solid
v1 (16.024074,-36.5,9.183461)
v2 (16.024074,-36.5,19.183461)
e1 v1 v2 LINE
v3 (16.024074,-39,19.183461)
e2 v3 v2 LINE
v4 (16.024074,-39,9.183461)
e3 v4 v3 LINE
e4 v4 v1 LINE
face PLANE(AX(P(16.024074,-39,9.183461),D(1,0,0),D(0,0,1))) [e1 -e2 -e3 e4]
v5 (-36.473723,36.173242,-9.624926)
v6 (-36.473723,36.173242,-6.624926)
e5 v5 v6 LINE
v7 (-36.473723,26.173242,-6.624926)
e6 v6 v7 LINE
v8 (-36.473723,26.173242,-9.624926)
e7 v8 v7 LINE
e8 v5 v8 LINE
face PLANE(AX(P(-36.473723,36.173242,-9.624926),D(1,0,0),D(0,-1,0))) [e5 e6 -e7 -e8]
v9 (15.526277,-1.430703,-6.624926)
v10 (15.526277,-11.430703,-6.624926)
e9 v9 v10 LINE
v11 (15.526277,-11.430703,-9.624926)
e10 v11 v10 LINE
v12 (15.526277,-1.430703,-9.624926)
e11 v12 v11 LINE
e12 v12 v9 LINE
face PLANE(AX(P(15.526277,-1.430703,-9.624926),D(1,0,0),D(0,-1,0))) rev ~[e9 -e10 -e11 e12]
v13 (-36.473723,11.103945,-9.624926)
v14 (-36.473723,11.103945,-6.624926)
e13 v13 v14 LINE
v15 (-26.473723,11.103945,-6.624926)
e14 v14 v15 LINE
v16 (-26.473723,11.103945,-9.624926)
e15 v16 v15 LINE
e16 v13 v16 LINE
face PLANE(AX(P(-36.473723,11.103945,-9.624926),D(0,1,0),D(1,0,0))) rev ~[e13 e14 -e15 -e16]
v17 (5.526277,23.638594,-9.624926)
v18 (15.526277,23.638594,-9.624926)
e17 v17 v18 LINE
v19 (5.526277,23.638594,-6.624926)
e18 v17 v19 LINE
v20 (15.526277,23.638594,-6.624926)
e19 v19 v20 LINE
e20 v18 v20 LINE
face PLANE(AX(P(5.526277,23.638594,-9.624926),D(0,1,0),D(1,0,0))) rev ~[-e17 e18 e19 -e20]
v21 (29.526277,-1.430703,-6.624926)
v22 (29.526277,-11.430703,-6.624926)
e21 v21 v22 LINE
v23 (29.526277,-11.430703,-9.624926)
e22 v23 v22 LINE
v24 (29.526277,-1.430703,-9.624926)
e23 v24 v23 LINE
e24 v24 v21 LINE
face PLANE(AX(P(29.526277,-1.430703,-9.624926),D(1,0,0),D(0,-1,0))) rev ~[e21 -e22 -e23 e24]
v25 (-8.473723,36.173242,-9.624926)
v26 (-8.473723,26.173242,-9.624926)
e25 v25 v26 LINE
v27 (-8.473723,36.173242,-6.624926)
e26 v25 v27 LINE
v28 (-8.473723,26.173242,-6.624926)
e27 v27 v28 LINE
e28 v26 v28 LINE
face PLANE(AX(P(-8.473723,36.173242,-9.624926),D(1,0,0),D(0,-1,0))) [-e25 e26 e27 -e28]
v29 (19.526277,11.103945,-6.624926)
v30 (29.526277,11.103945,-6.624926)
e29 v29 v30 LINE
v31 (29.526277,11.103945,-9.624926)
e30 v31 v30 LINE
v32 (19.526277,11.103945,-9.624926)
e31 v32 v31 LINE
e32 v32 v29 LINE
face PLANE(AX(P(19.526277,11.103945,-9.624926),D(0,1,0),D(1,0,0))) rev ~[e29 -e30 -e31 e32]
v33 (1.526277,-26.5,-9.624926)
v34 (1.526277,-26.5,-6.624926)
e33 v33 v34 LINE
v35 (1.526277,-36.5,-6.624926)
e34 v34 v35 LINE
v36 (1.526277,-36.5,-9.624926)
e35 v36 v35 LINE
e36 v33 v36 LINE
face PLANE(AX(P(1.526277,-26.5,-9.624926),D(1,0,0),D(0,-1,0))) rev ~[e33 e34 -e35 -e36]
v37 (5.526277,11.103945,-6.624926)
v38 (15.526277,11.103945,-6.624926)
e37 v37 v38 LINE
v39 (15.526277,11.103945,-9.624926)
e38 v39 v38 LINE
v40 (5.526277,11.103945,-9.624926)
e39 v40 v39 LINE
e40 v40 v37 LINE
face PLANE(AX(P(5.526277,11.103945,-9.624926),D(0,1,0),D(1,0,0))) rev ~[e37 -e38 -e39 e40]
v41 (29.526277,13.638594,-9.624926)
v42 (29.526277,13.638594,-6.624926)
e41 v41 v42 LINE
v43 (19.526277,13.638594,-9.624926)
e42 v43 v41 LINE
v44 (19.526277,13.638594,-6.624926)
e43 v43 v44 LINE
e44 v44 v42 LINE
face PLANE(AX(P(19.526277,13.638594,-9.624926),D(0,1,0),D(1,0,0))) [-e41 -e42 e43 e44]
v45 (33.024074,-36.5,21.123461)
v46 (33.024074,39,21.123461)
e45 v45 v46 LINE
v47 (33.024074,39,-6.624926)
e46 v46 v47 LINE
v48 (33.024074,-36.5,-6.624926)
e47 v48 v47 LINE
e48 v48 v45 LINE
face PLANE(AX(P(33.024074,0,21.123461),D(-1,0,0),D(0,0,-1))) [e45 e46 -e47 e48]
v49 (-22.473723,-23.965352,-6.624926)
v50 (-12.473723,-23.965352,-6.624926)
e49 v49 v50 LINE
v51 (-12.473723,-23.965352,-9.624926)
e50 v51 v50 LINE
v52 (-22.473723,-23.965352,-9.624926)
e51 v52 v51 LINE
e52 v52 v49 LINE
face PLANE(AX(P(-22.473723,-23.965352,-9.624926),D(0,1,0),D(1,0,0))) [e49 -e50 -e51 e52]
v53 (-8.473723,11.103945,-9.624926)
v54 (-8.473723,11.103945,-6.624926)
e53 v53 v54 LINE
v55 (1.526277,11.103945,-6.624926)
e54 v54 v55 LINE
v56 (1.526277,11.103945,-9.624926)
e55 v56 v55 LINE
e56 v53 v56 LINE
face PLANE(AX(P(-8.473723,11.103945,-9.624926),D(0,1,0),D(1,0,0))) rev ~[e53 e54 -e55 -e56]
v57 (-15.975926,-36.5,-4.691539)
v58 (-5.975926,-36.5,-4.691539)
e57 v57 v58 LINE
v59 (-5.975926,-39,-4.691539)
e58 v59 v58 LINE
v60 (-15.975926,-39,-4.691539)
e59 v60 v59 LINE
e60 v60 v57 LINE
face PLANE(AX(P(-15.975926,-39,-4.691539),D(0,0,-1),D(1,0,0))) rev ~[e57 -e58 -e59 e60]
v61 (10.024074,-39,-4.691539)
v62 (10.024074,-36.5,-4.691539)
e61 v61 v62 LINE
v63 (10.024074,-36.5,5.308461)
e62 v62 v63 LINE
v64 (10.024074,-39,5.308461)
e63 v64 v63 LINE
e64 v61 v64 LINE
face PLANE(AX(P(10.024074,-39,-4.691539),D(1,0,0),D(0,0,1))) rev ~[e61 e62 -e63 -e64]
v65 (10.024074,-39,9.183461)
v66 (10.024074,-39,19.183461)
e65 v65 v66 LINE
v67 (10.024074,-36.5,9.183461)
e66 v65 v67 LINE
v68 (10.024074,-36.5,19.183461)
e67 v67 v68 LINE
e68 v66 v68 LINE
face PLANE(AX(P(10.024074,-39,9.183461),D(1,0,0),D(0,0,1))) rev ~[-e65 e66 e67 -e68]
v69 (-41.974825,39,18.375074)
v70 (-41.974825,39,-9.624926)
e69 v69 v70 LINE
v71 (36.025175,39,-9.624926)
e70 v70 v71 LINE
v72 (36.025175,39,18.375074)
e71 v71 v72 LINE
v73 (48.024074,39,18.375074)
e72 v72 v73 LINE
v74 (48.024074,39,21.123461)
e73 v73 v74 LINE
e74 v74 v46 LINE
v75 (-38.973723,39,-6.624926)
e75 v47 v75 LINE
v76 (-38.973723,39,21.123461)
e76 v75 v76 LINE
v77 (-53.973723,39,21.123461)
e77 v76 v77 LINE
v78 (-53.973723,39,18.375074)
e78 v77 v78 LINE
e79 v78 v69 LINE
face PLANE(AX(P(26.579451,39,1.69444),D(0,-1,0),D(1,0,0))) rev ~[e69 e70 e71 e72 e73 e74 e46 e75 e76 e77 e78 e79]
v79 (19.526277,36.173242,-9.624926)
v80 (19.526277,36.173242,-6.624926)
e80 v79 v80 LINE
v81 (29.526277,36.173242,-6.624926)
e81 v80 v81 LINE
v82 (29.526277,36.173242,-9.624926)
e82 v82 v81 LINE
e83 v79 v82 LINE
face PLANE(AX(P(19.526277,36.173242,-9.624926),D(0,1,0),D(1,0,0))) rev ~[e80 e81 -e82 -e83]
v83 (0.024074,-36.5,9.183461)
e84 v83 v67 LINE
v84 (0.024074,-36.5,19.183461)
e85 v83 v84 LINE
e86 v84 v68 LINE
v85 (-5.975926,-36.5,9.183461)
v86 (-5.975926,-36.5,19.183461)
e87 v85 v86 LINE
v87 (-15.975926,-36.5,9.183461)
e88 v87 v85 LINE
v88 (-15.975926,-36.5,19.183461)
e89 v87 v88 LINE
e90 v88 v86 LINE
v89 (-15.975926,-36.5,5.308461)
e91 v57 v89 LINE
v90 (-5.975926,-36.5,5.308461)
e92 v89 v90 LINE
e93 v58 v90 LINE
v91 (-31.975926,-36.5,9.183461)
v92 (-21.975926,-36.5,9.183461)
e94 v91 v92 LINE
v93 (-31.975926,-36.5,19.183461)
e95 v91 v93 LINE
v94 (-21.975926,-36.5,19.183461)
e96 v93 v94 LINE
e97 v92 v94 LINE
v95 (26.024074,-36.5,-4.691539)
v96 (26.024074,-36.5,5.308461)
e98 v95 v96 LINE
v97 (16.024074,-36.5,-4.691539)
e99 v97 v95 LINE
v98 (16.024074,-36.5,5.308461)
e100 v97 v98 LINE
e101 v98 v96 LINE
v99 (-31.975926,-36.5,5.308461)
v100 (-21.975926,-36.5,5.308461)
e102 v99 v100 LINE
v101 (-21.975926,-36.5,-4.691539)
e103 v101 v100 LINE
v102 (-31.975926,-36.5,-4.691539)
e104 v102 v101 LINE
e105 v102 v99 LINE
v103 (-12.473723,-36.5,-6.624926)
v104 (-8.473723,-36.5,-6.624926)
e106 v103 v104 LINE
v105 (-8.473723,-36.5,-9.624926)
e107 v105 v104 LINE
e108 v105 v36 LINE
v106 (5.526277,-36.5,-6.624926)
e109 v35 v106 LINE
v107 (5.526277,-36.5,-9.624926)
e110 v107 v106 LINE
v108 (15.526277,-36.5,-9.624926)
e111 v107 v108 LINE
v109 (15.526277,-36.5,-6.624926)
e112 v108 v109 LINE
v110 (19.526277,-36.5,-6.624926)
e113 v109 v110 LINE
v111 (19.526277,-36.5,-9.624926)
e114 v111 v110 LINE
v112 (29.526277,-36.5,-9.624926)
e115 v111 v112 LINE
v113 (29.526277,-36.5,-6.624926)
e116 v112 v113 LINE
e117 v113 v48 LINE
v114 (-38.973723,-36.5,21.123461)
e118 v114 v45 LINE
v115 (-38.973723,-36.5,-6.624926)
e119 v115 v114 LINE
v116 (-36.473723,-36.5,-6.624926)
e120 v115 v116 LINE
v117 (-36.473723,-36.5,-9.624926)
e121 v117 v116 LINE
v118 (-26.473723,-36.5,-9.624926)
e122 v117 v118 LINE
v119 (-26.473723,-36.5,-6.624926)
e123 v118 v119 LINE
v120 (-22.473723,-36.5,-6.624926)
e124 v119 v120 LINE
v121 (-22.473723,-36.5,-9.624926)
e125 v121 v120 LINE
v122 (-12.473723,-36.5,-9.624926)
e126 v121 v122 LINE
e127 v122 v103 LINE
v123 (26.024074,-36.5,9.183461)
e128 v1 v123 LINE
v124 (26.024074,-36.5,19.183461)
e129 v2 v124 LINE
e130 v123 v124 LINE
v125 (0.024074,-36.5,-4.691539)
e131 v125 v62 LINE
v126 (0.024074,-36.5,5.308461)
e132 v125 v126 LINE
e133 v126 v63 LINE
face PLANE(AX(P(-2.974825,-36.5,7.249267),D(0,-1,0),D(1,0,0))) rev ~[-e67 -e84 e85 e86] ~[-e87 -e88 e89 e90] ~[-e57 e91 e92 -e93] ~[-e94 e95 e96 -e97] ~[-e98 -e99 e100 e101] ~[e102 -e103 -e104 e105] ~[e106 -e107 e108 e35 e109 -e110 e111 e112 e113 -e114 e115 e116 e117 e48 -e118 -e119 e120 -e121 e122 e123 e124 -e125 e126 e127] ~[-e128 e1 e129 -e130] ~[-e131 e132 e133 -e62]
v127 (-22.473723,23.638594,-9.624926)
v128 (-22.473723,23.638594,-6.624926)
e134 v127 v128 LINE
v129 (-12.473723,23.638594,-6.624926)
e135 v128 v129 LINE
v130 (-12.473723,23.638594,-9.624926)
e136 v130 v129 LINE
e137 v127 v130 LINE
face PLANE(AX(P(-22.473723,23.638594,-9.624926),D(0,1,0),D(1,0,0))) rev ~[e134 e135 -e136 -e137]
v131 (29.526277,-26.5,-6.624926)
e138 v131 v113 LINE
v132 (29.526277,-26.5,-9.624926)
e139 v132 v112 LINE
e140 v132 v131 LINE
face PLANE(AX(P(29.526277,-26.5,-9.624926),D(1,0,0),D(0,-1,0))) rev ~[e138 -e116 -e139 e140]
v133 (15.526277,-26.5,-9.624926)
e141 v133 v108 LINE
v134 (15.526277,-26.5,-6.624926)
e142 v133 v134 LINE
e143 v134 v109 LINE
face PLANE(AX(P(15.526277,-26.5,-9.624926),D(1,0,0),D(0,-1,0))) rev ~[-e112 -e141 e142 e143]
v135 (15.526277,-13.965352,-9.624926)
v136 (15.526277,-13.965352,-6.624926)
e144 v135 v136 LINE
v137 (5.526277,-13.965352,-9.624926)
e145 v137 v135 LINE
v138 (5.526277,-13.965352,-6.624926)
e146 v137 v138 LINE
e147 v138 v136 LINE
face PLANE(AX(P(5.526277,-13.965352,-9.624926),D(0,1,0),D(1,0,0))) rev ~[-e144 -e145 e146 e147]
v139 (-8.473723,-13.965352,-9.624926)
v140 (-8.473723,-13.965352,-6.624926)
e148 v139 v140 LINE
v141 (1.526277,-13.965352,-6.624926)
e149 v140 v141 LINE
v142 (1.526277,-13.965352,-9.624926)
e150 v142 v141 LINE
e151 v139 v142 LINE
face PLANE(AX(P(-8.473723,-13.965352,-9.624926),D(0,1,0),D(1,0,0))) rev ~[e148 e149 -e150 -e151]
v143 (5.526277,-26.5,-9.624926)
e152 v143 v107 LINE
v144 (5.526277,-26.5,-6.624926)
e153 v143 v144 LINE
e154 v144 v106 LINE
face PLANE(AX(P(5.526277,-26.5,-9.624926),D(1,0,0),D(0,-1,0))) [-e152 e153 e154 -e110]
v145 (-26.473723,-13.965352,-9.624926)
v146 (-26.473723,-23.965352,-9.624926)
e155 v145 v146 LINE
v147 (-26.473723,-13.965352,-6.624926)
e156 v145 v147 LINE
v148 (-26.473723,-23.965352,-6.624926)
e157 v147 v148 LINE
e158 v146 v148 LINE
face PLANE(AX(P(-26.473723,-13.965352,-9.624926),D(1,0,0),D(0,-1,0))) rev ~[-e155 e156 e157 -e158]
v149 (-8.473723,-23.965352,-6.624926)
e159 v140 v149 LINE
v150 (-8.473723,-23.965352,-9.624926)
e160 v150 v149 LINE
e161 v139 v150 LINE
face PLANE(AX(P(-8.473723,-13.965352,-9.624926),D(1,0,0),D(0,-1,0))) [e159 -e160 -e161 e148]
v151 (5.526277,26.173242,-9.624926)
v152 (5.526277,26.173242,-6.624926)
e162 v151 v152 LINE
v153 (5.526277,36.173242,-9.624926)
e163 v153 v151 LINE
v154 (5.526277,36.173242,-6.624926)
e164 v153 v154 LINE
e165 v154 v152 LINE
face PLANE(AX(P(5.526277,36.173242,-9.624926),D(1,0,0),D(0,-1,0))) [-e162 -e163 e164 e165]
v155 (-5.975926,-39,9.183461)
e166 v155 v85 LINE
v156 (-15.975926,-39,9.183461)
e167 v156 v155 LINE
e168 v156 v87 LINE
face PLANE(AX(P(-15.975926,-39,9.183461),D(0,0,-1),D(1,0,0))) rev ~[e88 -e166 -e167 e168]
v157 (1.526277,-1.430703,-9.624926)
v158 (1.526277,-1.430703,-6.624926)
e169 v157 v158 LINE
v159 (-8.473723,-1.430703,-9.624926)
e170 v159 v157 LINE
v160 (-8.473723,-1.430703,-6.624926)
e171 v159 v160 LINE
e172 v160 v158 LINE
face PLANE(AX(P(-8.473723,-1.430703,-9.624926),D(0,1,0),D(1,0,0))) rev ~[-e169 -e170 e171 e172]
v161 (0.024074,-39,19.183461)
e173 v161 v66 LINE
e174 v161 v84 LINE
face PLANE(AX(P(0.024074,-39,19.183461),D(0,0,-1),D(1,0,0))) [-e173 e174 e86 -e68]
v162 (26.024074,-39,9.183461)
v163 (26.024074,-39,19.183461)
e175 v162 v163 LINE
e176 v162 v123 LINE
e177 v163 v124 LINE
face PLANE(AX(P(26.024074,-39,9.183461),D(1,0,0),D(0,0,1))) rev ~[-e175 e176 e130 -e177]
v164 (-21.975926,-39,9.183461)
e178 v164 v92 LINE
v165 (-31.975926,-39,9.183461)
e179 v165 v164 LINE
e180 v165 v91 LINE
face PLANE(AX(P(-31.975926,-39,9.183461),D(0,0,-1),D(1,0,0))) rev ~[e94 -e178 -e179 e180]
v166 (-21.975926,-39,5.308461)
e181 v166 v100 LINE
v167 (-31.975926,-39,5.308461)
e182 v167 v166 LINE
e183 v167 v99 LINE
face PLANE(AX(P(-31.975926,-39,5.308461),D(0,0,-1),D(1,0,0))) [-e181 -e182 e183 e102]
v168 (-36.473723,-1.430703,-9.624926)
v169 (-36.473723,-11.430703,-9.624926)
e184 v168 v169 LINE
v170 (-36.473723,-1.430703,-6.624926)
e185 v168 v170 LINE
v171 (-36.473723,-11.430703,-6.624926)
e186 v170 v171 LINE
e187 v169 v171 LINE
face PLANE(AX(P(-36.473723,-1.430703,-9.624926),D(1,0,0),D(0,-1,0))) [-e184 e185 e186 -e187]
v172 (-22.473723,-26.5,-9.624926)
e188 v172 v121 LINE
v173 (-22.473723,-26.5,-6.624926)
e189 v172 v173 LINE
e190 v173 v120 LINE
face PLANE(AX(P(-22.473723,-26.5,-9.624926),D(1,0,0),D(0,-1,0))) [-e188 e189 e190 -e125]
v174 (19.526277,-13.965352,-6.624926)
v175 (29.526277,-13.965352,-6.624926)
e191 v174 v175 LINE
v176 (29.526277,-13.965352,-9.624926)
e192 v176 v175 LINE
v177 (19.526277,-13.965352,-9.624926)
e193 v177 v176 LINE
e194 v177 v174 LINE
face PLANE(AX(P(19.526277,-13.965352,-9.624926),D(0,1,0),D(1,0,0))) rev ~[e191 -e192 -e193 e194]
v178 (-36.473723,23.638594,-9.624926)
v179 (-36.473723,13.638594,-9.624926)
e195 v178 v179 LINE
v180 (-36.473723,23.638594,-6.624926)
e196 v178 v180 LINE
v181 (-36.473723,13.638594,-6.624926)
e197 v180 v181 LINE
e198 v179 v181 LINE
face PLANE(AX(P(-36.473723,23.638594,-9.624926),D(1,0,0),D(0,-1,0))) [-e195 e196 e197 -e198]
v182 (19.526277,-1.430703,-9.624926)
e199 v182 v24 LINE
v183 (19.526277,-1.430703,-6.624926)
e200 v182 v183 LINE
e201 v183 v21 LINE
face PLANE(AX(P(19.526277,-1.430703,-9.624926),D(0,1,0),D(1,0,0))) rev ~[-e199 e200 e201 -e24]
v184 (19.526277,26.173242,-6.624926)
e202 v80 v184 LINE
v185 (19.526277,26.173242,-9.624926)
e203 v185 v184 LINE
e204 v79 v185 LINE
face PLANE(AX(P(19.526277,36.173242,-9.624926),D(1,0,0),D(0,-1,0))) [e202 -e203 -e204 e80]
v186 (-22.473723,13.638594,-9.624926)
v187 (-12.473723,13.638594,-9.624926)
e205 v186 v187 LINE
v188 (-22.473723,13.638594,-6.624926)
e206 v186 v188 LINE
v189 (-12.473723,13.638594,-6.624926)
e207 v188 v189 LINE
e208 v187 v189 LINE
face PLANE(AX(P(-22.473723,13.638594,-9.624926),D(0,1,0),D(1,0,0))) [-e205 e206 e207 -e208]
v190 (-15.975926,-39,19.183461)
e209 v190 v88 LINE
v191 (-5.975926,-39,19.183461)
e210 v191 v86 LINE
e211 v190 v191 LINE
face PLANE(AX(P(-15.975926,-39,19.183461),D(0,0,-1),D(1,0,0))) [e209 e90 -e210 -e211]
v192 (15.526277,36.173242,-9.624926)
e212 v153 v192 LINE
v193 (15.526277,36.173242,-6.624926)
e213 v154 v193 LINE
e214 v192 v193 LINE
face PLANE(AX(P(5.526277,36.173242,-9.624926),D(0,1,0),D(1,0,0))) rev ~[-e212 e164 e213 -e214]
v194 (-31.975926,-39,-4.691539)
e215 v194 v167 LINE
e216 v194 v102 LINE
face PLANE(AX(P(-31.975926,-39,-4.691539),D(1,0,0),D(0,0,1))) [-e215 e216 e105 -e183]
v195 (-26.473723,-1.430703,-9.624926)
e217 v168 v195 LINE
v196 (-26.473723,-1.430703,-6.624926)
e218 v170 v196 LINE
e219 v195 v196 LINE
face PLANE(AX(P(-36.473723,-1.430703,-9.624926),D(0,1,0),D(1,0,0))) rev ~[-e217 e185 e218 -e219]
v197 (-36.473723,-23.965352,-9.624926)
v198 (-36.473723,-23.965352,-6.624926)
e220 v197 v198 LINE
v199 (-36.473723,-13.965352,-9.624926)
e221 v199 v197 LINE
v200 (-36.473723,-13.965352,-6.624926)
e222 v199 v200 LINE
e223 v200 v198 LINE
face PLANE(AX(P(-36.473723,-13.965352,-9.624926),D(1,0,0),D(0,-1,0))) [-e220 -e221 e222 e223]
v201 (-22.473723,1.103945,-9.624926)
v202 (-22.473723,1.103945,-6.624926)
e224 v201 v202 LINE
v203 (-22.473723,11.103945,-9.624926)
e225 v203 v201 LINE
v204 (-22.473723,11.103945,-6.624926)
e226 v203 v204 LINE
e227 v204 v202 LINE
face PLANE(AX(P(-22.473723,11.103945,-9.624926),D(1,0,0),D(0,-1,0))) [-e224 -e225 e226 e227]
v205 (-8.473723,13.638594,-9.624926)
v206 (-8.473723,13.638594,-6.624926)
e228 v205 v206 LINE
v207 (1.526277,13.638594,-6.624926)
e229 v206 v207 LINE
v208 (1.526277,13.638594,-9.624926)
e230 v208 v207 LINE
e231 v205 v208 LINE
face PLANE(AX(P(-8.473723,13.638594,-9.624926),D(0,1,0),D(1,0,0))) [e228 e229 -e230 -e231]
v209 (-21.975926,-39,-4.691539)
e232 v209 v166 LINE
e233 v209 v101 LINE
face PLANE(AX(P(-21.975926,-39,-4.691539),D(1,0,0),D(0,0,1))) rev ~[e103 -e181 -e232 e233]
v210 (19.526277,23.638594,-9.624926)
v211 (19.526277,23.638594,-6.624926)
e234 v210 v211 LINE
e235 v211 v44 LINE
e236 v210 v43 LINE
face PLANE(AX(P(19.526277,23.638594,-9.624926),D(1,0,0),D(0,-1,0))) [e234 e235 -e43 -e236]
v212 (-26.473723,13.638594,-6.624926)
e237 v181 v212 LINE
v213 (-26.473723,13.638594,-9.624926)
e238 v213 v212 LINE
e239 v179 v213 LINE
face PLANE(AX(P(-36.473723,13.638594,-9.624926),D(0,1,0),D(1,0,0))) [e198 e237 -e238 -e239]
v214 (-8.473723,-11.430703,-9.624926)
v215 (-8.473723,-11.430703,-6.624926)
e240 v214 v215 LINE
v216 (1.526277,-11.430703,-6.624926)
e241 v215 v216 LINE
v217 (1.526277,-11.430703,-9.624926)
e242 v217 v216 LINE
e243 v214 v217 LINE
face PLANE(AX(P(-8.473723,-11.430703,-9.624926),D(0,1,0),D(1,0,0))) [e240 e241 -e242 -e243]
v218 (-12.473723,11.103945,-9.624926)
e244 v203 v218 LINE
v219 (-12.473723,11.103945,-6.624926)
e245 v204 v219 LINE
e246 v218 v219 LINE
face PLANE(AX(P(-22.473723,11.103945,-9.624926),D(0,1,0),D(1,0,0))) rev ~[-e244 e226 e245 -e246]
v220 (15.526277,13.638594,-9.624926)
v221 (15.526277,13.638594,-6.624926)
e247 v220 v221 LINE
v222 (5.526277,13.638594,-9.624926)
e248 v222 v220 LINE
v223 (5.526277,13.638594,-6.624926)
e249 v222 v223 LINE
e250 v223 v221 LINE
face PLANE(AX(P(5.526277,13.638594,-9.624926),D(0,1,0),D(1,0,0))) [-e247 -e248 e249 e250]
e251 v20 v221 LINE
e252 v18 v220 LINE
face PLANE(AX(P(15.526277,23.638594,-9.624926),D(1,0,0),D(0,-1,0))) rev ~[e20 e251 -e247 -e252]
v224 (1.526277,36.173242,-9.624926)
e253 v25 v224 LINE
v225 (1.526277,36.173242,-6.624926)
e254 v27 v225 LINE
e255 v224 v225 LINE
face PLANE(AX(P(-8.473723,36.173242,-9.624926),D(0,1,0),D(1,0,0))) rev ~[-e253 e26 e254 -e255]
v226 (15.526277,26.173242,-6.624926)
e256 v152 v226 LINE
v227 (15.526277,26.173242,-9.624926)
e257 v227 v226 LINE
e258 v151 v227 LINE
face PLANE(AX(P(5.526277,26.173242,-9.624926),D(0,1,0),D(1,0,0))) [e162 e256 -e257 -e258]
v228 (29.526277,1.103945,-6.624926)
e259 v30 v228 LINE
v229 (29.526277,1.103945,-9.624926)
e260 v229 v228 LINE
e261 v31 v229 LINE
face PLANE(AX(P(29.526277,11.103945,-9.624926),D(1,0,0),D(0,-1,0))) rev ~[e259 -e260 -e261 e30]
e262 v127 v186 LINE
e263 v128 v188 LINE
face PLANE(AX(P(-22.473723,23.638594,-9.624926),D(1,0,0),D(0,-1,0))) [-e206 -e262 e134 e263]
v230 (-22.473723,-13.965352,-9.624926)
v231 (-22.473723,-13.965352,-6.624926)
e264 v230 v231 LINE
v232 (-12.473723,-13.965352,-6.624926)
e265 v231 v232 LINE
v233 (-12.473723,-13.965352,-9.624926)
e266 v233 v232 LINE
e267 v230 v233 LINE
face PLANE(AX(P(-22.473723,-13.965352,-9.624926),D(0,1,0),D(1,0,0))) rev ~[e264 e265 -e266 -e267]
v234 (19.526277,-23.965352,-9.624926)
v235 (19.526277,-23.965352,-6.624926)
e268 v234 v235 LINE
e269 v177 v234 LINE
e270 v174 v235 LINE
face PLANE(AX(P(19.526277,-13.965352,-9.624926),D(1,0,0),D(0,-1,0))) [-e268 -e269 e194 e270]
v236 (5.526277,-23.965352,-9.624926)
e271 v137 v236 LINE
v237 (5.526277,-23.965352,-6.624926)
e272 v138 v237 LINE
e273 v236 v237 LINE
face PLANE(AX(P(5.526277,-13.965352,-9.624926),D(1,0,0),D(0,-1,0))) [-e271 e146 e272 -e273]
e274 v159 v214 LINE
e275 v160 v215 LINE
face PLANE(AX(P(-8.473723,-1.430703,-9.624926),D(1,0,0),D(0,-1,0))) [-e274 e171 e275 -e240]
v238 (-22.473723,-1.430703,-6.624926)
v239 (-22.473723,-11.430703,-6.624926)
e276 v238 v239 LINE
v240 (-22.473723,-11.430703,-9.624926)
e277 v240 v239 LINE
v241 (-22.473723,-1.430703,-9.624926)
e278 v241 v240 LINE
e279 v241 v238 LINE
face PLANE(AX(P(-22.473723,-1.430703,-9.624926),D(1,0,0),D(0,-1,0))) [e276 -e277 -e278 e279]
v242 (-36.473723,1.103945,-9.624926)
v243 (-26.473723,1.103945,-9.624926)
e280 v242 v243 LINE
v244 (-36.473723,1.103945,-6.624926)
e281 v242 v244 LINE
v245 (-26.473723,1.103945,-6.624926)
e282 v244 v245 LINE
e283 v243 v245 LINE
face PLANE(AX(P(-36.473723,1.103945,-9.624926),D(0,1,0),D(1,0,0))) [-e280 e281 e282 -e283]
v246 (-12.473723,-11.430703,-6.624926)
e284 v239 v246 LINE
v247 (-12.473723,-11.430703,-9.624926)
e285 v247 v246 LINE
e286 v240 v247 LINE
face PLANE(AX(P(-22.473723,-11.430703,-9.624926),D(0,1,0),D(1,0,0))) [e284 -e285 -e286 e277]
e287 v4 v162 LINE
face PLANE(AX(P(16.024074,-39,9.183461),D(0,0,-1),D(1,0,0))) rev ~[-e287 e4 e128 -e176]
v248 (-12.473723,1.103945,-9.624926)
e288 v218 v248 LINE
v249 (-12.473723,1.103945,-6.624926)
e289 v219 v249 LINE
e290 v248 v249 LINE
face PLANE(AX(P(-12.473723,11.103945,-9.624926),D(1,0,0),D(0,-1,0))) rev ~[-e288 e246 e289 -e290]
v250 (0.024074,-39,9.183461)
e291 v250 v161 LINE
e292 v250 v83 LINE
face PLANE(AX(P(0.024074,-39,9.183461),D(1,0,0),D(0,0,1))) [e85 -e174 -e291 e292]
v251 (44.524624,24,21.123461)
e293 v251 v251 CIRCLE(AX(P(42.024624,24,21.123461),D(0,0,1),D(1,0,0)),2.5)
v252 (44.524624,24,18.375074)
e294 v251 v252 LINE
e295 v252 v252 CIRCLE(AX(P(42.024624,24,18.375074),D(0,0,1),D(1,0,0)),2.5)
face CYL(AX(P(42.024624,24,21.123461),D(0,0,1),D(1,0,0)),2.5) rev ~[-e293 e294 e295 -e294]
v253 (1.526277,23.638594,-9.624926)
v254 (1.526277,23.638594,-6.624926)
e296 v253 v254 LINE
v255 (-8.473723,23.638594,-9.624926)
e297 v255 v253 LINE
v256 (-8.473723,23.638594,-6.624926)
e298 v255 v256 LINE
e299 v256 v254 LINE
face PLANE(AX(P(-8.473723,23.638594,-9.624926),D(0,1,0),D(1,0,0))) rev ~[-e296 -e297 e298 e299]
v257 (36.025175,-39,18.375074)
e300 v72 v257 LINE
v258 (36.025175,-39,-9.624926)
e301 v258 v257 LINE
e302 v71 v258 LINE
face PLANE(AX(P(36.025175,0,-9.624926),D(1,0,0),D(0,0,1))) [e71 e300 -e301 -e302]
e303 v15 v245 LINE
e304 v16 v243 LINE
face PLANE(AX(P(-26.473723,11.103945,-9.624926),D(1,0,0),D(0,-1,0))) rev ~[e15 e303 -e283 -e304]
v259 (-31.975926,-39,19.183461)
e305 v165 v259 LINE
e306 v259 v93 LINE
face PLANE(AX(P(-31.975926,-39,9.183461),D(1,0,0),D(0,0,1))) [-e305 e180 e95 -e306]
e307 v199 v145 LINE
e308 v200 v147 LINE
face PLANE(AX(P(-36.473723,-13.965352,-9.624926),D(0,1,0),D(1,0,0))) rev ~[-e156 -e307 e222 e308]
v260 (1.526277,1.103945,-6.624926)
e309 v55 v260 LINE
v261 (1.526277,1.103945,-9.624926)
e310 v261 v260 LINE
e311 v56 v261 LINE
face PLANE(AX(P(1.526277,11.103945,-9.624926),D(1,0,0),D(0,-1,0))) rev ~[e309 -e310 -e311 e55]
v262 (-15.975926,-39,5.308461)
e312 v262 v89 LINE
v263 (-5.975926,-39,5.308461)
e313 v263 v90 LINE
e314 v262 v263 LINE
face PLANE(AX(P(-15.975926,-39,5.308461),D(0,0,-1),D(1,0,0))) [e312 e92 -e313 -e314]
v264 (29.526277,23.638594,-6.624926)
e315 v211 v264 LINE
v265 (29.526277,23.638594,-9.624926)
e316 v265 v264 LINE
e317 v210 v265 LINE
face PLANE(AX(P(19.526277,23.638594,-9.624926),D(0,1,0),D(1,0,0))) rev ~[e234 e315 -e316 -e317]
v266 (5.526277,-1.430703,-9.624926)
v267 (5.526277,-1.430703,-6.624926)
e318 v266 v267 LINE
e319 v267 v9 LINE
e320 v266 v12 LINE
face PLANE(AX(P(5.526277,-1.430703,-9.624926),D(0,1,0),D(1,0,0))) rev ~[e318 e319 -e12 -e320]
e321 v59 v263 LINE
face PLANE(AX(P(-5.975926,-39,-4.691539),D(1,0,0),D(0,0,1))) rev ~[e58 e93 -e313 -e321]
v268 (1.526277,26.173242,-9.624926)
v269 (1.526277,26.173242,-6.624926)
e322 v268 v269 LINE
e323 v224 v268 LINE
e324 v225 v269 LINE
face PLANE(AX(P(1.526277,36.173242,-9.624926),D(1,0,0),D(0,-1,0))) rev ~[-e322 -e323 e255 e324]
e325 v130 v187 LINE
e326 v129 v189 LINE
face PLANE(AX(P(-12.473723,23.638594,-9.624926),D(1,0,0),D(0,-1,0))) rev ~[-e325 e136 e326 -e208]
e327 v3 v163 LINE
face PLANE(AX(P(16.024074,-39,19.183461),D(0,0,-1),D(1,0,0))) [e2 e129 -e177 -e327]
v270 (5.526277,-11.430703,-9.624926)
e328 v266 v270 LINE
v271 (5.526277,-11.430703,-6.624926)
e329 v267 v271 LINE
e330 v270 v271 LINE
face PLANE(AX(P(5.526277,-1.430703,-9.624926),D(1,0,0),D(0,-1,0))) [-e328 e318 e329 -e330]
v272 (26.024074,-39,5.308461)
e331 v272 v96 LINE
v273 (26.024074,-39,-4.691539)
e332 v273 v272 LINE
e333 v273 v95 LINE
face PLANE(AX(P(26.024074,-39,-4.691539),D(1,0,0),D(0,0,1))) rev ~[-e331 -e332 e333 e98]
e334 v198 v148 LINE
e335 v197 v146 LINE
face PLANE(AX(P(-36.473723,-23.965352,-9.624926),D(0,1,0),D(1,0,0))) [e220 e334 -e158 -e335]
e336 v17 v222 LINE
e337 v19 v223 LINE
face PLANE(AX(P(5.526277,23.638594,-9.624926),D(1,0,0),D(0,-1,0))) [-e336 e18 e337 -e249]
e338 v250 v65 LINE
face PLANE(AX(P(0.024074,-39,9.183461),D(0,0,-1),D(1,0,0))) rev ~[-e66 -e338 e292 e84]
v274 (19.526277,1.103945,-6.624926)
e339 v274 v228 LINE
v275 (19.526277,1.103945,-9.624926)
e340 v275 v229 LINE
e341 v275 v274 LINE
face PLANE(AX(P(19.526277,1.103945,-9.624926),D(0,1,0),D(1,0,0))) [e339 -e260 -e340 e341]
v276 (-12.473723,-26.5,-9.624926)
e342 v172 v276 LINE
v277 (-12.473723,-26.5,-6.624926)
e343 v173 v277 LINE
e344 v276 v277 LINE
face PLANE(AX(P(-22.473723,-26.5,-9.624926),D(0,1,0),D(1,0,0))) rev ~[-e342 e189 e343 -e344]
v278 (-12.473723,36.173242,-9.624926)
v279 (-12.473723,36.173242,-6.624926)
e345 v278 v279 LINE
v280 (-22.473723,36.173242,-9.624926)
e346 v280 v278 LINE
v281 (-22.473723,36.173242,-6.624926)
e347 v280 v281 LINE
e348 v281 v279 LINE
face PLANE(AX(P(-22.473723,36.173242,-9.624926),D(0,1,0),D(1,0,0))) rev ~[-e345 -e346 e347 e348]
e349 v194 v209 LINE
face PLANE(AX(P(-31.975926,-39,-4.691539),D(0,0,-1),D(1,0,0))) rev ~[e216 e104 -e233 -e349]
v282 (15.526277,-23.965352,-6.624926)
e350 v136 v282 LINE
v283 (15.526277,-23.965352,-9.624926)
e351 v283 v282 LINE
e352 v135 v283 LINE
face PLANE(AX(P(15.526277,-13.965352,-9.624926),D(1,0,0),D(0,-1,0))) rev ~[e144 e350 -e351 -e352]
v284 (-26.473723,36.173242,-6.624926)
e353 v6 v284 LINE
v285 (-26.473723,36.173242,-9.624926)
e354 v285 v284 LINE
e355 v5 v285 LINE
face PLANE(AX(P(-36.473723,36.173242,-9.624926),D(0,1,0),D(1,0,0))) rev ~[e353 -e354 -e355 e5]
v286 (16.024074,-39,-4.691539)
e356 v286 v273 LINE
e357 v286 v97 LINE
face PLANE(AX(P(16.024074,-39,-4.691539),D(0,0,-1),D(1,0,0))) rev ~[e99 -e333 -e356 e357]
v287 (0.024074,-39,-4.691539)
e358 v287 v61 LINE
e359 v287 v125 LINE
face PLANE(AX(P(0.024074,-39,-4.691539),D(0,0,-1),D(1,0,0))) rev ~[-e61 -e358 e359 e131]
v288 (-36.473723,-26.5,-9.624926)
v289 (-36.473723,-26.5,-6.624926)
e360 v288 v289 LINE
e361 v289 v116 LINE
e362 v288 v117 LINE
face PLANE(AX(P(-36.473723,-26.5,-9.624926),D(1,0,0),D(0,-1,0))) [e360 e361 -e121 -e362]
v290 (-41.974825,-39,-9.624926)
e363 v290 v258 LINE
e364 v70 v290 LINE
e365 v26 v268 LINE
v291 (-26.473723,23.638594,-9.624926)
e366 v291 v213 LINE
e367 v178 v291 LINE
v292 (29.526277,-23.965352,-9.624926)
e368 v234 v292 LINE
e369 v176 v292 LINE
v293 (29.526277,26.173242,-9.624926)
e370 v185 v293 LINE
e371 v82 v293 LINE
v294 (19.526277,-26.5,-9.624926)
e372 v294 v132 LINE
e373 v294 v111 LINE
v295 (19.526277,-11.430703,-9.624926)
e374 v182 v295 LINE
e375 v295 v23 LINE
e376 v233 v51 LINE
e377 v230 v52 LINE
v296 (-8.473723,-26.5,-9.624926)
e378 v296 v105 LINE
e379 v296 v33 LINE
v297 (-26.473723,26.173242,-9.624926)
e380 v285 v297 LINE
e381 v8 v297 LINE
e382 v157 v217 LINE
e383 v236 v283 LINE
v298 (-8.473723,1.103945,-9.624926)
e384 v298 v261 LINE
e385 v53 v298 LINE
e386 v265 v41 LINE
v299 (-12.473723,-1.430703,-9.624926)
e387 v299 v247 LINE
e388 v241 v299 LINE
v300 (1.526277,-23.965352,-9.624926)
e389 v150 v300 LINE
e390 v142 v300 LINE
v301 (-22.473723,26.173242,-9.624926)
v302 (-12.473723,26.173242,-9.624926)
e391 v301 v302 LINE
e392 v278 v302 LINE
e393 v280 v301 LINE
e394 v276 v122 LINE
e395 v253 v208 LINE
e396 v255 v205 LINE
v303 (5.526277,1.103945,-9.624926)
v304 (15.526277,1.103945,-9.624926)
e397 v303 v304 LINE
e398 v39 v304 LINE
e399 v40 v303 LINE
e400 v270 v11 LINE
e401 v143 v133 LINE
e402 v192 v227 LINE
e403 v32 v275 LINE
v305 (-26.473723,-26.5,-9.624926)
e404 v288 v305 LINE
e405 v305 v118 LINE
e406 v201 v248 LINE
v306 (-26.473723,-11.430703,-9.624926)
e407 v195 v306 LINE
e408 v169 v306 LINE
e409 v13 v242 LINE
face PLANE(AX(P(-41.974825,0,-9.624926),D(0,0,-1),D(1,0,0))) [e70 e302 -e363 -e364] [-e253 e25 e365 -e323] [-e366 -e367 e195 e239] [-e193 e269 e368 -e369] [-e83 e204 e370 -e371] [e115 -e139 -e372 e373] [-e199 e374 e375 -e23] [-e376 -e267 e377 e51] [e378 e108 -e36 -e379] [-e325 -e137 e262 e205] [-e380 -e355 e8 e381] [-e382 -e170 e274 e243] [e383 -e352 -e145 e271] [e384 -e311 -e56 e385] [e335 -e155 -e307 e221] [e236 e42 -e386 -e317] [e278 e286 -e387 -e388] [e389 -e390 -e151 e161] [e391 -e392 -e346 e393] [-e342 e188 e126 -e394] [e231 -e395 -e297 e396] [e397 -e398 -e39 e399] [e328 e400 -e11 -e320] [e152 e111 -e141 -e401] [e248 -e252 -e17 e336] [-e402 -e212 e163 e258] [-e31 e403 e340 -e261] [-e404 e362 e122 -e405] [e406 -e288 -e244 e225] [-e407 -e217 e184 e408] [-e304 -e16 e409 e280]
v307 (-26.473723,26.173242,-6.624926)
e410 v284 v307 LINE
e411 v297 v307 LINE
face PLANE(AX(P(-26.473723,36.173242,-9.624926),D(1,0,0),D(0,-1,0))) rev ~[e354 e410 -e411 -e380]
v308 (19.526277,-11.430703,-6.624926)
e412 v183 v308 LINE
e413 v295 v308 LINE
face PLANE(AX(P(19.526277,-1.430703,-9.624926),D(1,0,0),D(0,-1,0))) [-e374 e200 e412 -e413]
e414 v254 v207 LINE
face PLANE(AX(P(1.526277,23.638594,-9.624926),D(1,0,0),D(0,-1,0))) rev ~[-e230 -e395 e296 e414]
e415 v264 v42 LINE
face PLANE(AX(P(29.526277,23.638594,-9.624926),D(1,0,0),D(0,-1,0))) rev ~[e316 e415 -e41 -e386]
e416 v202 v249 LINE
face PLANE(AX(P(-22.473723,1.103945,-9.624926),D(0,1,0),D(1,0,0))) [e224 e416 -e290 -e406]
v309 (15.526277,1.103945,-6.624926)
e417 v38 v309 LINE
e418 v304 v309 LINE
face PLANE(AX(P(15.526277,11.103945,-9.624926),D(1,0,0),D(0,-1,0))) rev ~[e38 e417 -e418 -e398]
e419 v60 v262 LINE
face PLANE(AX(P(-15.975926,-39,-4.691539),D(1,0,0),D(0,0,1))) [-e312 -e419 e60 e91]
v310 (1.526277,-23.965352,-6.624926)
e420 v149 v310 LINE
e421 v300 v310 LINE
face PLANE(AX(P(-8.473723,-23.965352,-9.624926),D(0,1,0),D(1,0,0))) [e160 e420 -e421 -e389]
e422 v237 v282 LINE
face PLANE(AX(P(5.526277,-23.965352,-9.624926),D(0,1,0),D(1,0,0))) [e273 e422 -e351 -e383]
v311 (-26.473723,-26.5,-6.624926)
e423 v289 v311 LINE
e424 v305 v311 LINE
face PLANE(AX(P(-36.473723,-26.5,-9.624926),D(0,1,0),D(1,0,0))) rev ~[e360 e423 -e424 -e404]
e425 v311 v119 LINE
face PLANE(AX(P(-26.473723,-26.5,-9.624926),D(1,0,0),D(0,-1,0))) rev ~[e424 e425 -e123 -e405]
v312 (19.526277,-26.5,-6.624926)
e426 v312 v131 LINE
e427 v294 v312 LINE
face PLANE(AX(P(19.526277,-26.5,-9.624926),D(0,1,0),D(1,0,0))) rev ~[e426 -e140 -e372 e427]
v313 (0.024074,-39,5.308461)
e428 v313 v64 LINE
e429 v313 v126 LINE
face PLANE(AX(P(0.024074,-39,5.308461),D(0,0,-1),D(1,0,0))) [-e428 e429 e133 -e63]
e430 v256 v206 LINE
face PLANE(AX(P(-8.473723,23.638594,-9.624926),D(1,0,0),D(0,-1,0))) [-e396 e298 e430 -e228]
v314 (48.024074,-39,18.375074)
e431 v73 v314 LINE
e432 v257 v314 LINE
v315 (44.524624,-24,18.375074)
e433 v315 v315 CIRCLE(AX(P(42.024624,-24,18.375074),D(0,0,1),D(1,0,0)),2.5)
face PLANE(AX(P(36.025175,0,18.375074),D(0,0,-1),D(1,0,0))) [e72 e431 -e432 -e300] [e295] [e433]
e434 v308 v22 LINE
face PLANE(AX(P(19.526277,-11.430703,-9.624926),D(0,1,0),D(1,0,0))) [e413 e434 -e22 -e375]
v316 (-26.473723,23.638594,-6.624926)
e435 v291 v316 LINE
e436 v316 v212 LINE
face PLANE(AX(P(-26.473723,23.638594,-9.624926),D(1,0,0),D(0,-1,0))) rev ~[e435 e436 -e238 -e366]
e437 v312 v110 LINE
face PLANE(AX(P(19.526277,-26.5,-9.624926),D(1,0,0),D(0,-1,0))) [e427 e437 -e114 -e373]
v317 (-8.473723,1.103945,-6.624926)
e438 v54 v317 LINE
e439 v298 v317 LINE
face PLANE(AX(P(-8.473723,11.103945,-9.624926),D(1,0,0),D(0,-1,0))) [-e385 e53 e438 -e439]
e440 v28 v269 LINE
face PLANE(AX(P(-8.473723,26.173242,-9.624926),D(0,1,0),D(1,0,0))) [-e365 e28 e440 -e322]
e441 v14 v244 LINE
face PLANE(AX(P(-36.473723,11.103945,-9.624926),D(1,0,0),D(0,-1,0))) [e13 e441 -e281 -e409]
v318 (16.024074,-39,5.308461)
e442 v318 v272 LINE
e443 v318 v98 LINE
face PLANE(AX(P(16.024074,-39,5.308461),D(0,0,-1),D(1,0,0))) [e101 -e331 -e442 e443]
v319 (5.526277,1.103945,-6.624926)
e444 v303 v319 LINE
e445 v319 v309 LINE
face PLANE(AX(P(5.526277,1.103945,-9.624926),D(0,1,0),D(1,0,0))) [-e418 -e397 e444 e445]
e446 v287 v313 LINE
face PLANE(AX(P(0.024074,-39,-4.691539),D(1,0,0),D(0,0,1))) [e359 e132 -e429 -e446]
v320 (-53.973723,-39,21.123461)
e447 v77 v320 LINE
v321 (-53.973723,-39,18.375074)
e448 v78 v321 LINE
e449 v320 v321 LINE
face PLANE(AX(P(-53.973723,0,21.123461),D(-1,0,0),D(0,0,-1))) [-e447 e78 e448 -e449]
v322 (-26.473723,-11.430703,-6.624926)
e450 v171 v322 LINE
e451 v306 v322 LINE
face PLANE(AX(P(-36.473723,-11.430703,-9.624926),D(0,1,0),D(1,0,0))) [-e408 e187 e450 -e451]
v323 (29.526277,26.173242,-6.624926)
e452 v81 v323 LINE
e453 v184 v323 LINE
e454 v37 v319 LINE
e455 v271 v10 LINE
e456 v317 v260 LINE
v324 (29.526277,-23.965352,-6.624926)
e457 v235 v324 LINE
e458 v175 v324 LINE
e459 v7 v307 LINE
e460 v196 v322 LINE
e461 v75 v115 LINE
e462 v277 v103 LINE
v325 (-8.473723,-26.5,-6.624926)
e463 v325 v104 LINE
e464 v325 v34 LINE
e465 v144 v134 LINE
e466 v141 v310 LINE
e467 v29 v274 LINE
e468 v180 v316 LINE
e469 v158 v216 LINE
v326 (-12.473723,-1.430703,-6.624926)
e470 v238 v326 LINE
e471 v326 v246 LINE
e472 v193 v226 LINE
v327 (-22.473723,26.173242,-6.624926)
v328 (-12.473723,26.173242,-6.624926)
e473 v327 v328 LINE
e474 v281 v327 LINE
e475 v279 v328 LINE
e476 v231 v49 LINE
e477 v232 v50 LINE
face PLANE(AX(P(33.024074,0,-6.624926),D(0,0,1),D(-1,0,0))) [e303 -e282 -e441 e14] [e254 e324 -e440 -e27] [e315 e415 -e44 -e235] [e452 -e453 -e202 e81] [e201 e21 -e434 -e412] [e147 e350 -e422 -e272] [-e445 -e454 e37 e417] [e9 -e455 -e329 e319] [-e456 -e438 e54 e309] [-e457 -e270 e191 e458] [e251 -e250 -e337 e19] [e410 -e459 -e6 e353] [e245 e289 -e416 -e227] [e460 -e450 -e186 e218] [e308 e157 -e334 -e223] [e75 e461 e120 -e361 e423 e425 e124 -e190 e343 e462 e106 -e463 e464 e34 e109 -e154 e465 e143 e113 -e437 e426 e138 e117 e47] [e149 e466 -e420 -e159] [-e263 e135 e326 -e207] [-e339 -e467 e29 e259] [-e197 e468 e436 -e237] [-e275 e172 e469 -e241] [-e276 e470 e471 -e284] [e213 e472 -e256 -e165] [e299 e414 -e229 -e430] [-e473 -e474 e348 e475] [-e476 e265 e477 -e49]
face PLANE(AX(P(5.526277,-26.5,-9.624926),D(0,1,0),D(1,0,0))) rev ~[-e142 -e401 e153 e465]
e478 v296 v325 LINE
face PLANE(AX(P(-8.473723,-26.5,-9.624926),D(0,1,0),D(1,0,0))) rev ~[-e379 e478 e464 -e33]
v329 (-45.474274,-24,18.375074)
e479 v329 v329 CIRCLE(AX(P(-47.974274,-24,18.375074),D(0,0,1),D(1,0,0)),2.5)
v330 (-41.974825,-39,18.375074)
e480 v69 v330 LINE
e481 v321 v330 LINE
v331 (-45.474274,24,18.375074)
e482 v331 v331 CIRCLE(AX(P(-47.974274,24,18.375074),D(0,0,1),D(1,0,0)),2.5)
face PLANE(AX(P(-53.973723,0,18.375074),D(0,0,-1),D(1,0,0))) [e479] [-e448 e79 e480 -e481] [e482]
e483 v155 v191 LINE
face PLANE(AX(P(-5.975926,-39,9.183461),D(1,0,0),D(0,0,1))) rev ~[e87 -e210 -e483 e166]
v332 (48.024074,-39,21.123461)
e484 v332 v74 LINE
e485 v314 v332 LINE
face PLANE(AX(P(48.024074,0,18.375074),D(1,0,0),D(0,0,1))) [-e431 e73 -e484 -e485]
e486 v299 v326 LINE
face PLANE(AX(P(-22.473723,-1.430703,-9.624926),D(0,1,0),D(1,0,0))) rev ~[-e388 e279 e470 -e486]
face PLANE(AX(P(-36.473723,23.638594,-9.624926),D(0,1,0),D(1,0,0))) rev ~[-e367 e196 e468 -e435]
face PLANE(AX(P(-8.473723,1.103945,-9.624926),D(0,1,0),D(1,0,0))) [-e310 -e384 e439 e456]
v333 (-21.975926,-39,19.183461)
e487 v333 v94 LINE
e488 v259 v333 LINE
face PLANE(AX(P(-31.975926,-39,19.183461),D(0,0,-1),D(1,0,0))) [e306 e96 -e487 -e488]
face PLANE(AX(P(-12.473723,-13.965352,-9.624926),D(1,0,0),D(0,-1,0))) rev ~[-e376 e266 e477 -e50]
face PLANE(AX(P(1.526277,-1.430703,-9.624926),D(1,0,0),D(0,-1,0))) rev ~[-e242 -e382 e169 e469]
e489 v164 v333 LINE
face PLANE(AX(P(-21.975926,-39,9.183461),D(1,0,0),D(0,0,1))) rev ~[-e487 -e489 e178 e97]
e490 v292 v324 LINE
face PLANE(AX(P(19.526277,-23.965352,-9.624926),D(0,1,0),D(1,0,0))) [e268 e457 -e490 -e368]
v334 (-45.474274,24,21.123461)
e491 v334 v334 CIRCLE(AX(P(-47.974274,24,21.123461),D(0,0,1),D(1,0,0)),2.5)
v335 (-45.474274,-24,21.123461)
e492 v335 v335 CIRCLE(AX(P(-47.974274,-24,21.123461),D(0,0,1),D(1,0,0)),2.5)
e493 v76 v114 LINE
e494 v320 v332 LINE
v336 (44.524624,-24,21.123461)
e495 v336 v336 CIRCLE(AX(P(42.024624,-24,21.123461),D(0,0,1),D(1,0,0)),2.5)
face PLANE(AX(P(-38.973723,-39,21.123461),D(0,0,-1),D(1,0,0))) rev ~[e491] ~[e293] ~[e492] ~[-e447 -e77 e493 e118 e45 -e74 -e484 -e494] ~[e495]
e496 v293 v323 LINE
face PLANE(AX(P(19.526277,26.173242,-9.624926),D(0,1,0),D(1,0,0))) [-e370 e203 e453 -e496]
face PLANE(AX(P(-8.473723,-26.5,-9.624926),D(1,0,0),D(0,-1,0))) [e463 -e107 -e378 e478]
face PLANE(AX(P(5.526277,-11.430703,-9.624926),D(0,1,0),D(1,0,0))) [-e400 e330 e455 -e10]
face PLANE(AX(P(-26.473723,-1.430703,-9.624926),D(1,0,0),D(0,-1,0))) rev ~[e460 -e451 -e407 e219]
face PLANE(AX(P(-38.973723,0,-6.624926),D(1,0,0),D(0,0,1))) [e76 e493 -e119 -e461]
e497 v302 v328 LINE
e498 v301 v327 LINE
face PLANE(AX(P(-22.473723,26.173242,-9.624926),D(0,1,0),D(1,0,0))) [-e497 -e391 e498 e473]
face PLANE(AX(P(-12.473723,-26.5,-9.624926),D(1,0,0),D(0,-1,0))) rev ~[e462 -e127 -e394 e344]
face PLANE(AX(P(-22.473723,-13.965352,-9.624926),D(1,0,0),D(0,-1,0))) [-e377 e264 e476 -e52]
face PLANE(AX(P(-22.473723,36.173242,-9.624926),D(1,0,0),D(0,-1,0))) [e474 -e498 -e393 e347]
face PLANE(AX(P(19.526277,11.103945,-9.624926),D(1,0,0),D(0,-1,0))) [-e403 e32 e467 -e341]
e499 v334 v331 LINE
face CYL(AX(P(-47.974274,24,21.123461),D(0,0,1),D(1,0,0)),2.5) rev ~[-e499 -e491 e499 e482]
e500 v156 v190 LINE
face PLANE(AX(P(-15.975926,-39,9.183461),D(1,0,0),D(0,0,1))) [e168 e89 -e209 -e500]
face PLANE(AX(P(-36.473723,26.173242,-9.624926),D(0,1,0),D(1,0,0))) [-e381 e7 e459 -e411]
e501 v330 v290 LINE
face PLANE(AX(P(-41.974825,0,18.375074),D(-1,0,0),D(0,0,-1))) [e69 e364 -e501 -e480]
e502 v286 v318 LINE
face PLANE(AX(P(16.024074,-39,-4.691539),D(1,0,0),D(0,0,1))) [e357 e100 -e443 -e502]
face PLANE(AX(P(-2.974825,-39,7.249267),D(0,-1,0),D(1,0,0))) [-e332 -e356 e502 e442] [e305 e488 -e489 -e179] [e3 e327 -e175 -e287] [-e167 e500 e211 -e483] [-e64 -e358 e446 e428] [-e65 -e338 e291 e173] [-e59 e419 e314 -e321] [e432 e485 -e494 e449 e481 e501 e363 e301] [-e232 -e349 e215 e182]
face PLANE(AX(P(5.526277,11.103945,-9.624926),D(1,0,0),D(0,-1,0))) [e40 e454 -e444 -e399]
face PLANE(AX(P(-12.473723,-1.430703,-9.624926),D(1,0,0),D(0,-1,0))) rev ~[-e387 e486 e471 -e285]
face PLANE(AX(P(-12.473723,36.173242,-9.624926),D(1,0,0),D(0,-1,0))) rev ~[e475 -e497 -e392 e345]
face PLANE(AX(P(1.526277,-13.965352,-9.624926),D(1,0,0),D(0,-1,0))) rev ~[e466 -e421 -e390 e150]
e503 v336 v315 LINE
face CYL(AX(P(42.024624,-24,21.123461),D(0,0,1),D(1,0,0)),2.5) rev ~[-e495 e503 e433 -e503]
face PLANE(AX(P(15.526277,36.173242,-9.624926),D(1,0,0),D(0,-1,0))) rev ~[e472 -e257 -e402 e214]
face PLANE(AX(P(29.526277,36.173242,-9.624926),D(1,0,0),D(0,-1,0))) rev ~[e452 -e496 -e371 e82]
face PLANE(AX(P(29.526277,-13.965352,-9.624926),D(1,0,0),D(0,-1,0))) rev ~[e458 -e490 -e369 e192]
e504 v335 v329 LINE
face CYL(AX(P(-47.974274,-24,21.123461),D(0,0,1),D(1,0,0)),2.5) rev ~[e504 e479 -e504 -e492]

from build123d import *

# Parameters (mm, degrees)
F1_DEPTH = 39
F2_R     = 2.5
F3_DEPTH = 2.748386896
F4_W     = 10
F4_H     = 10
F5_DEPTH = 3
F6_W     = 71.9977971367
F6_H     = 27.748386896
F7_DEPTH = 2.5
F8_W     = 10
F8_H     = 10
F9_DEPTH = 2.5


with BuildPart() as f1:
    # F0 (on Front) → F1 (new body, symmetric)
    with BuildSketch(Plane.XZ):
        Polygon((33.0240737289, -6.6249261405), (-2.9748248395, -6.6249261405), (-2.9748248395, -9.6249261405), (36.0251751605, -9.6249261405), (36.0251751605, 18.3750738595), (48.0240737289, 18.3750738595), (48.0240737289, 21.1234607555), (33.0240737289, 21.1234607555), align=None)
        Polygon((-2.9748248395, -9.6249261405), (-2.9748248395, -6.6249261405), (-38.9737234078, -6.6249261405), (-38.9737234078, 21.1234607555), (-53.9737234078, 21.1234607555), (-53.9737234078, 18.3750738595), (-41.9748248395, 18.3750738595), (-41.9748248395, -9.6249261405), align=None)
    extrude(amount=F1_DEPTH, both=True)

    # F2 (on face) → F3 (cut, through all)
    with BuildSketch(Plane.XY.offset(21.1234607555)):
        with Locations((42.0246244447, -24)):
            Circle(F2_R)
        with Locations((42.0246244447, 24)):
            Circle(F2_R)
        with Locations((-47.9742741236, 24)):
            Circle(F2_R)
        with Locations((-47.9742741236, -24)):
            Circle(F2_R)
    extrude(amount=-F3_DEPTH, mode=Mode.SUBTRACT)

    # F4 (on face) → F5 (cut, through all)
    with BuildSketch(Plane(origin=(0, 0, -9.6249261405), x_dir=(1, 0, 0), z_dir=(0, 0, -1))):
        with Locations((-31.4737234078, 31.5)):
            Rectangle(F4_W, F4_H)
        with Locations((-17.4737234078, 31.5)):
            Rectangle(F4_W, F4_H)
        with Locations((-3.4737234078, 31.5)):
            Rectangle(F4_W, F4_H)
        with Locations((10.5262765922, 31.5)):
            Rectangle(F4_W, F4_H)
        with Locations((24.5262765922, 31.5)):
            Rectangle(F4_W, F4_H)
        with Locations((10.5262765922, 18.9653515071)):
            Rectangle(F4_W, F4_H)
        with Locations((24.5262765922, 18.9653515071)):
            Rectangle(F4_W, F4_H)
        with Locations((-31.4737234078, 18.9653515071)):
            Rectangle(F4_W, F4_H)
        with Locations((-17.4737234078, 18.9653515071)):
            Rectangle(F4_W, F4_H)
        with Locations((-3.4737234078, 18.9653515071)):
            Rectangle(F4_W, F4_H)
        with Locations((10.5262765922, 6.4307030141)):
            Rectangle(F4_W, F4_H)
        with Locations((24.5262765922, 6.4307030141)):
            Rectangle(F4_W, F4_H)
        with Locations((-31.4737234078, 6.4307030141)):
            Rectangle(F4_W, F4_H)
        with Locations((-17.4737234078, 6.4307030141)):
            Rectangle(F4_W, F4_H)
        with Locations((-3.4737234078, 6.4307030141)):
            Rectangle(F4_W, F4_H)
        with Locations((10.5262765922, -6.1039454788)):
            Rectangle(F4_W, F4_H)
        with Locations((24.5262765922, -6.1039454788)):
            Rectangle(F4_W, F4_H)
        with Locations((-31.4737234078, -6.1039454788)):
            Rectangle(F4_W, F4_H)
        with Locations((-17.4737234078, -6.1039454788)):
            Rectangle(F4_W, F4_H)
        with Locations((-3.4737234078, -6.1039454788)):
            Rectangle(F4_W, F4_H)
        with Locations((10.5262765922, -18.6385939717)):
            Rectangle(F4_W, F4_H)
        with Locations((24.5262765922, -18.6385939717)):
            Rectangle(F4_W, F4_H)
        with Locations((-31.4737234078, -18.6385939717)):
            Rectangle(F4_W, F4_H)
        with Locations((-17.4737234078, -18.6385939717)):
            Rectangle(F4_W, F4_H)
        with Locations((-3.4737234078, -18.6385939717)):
            Rectangle(F4_W, F4_H)
        with Locations((10.5262765922, -31.1732424647)):
            Rectangle(F4_W, F4_H)
        with Locations((24.5262765922, -31.1732424647)):
            Rectangle(F4_W, F4_H)
        with Locations((-31.4737234078, -31.1732424647)):
            Rectangle(F4_W, F4_H)
        with Locations((-17.4737234078, -31.1732424647)):
            Rectangle(F4_W, F4_H)
        with Locations((-3.4737234078, -31.1732424647)):
            Rectangle(F4_W, F4_H)
    extrude(amount=-F5_DEPTH, mode=Mode.SUBTRACT)

    # F6 (on face) → F7 (join)
    with BuildSketch(Plane.XZ.offset(39)):
        with Locations((-2.9748248395, 7.2492673075)):
            Rectangle(F6_W, F6_H)
    extrude(amount=-F7_DEPTH)

    # F8 (on face) → F9 (cut, through all)
    with BuildSketch(Plane.XZ.offset(39)):
        with Locations((-26.9759262711, 14.1834607555)):
            Rectangle(F8_W, F8_H)
        with Locations((-10.9759262711, 14.1834607555)):
            Rectangle(F8_W, F8_H)
        with Locations((5.0240737289, 14.1834607555)):
            Rectangle(F8_W, F8_H)
        with Locations((21.0240737289, 14.1834607555)):
            Rectangle(F8_W, F8_H)
        with Locations((21.0240737289, 0.3084607555)):
            Rectangle(F8_W, F8_H)
        with Locations((-26.9759262711, 0.3084607555)):
            Rectangle(F8_W, F8_H)
        with Locations((-10.9759262711, 0.3084607555)):
            Rectangle(F8_W, F8_H)
        with Locations((5.0240737289, 0.3084607555)):
            Rectangle(F8_W, F8_H)
    extrude(amount=-F9_DEPTH, mode=Mode.SUBTRACT)


solid = f1.part
